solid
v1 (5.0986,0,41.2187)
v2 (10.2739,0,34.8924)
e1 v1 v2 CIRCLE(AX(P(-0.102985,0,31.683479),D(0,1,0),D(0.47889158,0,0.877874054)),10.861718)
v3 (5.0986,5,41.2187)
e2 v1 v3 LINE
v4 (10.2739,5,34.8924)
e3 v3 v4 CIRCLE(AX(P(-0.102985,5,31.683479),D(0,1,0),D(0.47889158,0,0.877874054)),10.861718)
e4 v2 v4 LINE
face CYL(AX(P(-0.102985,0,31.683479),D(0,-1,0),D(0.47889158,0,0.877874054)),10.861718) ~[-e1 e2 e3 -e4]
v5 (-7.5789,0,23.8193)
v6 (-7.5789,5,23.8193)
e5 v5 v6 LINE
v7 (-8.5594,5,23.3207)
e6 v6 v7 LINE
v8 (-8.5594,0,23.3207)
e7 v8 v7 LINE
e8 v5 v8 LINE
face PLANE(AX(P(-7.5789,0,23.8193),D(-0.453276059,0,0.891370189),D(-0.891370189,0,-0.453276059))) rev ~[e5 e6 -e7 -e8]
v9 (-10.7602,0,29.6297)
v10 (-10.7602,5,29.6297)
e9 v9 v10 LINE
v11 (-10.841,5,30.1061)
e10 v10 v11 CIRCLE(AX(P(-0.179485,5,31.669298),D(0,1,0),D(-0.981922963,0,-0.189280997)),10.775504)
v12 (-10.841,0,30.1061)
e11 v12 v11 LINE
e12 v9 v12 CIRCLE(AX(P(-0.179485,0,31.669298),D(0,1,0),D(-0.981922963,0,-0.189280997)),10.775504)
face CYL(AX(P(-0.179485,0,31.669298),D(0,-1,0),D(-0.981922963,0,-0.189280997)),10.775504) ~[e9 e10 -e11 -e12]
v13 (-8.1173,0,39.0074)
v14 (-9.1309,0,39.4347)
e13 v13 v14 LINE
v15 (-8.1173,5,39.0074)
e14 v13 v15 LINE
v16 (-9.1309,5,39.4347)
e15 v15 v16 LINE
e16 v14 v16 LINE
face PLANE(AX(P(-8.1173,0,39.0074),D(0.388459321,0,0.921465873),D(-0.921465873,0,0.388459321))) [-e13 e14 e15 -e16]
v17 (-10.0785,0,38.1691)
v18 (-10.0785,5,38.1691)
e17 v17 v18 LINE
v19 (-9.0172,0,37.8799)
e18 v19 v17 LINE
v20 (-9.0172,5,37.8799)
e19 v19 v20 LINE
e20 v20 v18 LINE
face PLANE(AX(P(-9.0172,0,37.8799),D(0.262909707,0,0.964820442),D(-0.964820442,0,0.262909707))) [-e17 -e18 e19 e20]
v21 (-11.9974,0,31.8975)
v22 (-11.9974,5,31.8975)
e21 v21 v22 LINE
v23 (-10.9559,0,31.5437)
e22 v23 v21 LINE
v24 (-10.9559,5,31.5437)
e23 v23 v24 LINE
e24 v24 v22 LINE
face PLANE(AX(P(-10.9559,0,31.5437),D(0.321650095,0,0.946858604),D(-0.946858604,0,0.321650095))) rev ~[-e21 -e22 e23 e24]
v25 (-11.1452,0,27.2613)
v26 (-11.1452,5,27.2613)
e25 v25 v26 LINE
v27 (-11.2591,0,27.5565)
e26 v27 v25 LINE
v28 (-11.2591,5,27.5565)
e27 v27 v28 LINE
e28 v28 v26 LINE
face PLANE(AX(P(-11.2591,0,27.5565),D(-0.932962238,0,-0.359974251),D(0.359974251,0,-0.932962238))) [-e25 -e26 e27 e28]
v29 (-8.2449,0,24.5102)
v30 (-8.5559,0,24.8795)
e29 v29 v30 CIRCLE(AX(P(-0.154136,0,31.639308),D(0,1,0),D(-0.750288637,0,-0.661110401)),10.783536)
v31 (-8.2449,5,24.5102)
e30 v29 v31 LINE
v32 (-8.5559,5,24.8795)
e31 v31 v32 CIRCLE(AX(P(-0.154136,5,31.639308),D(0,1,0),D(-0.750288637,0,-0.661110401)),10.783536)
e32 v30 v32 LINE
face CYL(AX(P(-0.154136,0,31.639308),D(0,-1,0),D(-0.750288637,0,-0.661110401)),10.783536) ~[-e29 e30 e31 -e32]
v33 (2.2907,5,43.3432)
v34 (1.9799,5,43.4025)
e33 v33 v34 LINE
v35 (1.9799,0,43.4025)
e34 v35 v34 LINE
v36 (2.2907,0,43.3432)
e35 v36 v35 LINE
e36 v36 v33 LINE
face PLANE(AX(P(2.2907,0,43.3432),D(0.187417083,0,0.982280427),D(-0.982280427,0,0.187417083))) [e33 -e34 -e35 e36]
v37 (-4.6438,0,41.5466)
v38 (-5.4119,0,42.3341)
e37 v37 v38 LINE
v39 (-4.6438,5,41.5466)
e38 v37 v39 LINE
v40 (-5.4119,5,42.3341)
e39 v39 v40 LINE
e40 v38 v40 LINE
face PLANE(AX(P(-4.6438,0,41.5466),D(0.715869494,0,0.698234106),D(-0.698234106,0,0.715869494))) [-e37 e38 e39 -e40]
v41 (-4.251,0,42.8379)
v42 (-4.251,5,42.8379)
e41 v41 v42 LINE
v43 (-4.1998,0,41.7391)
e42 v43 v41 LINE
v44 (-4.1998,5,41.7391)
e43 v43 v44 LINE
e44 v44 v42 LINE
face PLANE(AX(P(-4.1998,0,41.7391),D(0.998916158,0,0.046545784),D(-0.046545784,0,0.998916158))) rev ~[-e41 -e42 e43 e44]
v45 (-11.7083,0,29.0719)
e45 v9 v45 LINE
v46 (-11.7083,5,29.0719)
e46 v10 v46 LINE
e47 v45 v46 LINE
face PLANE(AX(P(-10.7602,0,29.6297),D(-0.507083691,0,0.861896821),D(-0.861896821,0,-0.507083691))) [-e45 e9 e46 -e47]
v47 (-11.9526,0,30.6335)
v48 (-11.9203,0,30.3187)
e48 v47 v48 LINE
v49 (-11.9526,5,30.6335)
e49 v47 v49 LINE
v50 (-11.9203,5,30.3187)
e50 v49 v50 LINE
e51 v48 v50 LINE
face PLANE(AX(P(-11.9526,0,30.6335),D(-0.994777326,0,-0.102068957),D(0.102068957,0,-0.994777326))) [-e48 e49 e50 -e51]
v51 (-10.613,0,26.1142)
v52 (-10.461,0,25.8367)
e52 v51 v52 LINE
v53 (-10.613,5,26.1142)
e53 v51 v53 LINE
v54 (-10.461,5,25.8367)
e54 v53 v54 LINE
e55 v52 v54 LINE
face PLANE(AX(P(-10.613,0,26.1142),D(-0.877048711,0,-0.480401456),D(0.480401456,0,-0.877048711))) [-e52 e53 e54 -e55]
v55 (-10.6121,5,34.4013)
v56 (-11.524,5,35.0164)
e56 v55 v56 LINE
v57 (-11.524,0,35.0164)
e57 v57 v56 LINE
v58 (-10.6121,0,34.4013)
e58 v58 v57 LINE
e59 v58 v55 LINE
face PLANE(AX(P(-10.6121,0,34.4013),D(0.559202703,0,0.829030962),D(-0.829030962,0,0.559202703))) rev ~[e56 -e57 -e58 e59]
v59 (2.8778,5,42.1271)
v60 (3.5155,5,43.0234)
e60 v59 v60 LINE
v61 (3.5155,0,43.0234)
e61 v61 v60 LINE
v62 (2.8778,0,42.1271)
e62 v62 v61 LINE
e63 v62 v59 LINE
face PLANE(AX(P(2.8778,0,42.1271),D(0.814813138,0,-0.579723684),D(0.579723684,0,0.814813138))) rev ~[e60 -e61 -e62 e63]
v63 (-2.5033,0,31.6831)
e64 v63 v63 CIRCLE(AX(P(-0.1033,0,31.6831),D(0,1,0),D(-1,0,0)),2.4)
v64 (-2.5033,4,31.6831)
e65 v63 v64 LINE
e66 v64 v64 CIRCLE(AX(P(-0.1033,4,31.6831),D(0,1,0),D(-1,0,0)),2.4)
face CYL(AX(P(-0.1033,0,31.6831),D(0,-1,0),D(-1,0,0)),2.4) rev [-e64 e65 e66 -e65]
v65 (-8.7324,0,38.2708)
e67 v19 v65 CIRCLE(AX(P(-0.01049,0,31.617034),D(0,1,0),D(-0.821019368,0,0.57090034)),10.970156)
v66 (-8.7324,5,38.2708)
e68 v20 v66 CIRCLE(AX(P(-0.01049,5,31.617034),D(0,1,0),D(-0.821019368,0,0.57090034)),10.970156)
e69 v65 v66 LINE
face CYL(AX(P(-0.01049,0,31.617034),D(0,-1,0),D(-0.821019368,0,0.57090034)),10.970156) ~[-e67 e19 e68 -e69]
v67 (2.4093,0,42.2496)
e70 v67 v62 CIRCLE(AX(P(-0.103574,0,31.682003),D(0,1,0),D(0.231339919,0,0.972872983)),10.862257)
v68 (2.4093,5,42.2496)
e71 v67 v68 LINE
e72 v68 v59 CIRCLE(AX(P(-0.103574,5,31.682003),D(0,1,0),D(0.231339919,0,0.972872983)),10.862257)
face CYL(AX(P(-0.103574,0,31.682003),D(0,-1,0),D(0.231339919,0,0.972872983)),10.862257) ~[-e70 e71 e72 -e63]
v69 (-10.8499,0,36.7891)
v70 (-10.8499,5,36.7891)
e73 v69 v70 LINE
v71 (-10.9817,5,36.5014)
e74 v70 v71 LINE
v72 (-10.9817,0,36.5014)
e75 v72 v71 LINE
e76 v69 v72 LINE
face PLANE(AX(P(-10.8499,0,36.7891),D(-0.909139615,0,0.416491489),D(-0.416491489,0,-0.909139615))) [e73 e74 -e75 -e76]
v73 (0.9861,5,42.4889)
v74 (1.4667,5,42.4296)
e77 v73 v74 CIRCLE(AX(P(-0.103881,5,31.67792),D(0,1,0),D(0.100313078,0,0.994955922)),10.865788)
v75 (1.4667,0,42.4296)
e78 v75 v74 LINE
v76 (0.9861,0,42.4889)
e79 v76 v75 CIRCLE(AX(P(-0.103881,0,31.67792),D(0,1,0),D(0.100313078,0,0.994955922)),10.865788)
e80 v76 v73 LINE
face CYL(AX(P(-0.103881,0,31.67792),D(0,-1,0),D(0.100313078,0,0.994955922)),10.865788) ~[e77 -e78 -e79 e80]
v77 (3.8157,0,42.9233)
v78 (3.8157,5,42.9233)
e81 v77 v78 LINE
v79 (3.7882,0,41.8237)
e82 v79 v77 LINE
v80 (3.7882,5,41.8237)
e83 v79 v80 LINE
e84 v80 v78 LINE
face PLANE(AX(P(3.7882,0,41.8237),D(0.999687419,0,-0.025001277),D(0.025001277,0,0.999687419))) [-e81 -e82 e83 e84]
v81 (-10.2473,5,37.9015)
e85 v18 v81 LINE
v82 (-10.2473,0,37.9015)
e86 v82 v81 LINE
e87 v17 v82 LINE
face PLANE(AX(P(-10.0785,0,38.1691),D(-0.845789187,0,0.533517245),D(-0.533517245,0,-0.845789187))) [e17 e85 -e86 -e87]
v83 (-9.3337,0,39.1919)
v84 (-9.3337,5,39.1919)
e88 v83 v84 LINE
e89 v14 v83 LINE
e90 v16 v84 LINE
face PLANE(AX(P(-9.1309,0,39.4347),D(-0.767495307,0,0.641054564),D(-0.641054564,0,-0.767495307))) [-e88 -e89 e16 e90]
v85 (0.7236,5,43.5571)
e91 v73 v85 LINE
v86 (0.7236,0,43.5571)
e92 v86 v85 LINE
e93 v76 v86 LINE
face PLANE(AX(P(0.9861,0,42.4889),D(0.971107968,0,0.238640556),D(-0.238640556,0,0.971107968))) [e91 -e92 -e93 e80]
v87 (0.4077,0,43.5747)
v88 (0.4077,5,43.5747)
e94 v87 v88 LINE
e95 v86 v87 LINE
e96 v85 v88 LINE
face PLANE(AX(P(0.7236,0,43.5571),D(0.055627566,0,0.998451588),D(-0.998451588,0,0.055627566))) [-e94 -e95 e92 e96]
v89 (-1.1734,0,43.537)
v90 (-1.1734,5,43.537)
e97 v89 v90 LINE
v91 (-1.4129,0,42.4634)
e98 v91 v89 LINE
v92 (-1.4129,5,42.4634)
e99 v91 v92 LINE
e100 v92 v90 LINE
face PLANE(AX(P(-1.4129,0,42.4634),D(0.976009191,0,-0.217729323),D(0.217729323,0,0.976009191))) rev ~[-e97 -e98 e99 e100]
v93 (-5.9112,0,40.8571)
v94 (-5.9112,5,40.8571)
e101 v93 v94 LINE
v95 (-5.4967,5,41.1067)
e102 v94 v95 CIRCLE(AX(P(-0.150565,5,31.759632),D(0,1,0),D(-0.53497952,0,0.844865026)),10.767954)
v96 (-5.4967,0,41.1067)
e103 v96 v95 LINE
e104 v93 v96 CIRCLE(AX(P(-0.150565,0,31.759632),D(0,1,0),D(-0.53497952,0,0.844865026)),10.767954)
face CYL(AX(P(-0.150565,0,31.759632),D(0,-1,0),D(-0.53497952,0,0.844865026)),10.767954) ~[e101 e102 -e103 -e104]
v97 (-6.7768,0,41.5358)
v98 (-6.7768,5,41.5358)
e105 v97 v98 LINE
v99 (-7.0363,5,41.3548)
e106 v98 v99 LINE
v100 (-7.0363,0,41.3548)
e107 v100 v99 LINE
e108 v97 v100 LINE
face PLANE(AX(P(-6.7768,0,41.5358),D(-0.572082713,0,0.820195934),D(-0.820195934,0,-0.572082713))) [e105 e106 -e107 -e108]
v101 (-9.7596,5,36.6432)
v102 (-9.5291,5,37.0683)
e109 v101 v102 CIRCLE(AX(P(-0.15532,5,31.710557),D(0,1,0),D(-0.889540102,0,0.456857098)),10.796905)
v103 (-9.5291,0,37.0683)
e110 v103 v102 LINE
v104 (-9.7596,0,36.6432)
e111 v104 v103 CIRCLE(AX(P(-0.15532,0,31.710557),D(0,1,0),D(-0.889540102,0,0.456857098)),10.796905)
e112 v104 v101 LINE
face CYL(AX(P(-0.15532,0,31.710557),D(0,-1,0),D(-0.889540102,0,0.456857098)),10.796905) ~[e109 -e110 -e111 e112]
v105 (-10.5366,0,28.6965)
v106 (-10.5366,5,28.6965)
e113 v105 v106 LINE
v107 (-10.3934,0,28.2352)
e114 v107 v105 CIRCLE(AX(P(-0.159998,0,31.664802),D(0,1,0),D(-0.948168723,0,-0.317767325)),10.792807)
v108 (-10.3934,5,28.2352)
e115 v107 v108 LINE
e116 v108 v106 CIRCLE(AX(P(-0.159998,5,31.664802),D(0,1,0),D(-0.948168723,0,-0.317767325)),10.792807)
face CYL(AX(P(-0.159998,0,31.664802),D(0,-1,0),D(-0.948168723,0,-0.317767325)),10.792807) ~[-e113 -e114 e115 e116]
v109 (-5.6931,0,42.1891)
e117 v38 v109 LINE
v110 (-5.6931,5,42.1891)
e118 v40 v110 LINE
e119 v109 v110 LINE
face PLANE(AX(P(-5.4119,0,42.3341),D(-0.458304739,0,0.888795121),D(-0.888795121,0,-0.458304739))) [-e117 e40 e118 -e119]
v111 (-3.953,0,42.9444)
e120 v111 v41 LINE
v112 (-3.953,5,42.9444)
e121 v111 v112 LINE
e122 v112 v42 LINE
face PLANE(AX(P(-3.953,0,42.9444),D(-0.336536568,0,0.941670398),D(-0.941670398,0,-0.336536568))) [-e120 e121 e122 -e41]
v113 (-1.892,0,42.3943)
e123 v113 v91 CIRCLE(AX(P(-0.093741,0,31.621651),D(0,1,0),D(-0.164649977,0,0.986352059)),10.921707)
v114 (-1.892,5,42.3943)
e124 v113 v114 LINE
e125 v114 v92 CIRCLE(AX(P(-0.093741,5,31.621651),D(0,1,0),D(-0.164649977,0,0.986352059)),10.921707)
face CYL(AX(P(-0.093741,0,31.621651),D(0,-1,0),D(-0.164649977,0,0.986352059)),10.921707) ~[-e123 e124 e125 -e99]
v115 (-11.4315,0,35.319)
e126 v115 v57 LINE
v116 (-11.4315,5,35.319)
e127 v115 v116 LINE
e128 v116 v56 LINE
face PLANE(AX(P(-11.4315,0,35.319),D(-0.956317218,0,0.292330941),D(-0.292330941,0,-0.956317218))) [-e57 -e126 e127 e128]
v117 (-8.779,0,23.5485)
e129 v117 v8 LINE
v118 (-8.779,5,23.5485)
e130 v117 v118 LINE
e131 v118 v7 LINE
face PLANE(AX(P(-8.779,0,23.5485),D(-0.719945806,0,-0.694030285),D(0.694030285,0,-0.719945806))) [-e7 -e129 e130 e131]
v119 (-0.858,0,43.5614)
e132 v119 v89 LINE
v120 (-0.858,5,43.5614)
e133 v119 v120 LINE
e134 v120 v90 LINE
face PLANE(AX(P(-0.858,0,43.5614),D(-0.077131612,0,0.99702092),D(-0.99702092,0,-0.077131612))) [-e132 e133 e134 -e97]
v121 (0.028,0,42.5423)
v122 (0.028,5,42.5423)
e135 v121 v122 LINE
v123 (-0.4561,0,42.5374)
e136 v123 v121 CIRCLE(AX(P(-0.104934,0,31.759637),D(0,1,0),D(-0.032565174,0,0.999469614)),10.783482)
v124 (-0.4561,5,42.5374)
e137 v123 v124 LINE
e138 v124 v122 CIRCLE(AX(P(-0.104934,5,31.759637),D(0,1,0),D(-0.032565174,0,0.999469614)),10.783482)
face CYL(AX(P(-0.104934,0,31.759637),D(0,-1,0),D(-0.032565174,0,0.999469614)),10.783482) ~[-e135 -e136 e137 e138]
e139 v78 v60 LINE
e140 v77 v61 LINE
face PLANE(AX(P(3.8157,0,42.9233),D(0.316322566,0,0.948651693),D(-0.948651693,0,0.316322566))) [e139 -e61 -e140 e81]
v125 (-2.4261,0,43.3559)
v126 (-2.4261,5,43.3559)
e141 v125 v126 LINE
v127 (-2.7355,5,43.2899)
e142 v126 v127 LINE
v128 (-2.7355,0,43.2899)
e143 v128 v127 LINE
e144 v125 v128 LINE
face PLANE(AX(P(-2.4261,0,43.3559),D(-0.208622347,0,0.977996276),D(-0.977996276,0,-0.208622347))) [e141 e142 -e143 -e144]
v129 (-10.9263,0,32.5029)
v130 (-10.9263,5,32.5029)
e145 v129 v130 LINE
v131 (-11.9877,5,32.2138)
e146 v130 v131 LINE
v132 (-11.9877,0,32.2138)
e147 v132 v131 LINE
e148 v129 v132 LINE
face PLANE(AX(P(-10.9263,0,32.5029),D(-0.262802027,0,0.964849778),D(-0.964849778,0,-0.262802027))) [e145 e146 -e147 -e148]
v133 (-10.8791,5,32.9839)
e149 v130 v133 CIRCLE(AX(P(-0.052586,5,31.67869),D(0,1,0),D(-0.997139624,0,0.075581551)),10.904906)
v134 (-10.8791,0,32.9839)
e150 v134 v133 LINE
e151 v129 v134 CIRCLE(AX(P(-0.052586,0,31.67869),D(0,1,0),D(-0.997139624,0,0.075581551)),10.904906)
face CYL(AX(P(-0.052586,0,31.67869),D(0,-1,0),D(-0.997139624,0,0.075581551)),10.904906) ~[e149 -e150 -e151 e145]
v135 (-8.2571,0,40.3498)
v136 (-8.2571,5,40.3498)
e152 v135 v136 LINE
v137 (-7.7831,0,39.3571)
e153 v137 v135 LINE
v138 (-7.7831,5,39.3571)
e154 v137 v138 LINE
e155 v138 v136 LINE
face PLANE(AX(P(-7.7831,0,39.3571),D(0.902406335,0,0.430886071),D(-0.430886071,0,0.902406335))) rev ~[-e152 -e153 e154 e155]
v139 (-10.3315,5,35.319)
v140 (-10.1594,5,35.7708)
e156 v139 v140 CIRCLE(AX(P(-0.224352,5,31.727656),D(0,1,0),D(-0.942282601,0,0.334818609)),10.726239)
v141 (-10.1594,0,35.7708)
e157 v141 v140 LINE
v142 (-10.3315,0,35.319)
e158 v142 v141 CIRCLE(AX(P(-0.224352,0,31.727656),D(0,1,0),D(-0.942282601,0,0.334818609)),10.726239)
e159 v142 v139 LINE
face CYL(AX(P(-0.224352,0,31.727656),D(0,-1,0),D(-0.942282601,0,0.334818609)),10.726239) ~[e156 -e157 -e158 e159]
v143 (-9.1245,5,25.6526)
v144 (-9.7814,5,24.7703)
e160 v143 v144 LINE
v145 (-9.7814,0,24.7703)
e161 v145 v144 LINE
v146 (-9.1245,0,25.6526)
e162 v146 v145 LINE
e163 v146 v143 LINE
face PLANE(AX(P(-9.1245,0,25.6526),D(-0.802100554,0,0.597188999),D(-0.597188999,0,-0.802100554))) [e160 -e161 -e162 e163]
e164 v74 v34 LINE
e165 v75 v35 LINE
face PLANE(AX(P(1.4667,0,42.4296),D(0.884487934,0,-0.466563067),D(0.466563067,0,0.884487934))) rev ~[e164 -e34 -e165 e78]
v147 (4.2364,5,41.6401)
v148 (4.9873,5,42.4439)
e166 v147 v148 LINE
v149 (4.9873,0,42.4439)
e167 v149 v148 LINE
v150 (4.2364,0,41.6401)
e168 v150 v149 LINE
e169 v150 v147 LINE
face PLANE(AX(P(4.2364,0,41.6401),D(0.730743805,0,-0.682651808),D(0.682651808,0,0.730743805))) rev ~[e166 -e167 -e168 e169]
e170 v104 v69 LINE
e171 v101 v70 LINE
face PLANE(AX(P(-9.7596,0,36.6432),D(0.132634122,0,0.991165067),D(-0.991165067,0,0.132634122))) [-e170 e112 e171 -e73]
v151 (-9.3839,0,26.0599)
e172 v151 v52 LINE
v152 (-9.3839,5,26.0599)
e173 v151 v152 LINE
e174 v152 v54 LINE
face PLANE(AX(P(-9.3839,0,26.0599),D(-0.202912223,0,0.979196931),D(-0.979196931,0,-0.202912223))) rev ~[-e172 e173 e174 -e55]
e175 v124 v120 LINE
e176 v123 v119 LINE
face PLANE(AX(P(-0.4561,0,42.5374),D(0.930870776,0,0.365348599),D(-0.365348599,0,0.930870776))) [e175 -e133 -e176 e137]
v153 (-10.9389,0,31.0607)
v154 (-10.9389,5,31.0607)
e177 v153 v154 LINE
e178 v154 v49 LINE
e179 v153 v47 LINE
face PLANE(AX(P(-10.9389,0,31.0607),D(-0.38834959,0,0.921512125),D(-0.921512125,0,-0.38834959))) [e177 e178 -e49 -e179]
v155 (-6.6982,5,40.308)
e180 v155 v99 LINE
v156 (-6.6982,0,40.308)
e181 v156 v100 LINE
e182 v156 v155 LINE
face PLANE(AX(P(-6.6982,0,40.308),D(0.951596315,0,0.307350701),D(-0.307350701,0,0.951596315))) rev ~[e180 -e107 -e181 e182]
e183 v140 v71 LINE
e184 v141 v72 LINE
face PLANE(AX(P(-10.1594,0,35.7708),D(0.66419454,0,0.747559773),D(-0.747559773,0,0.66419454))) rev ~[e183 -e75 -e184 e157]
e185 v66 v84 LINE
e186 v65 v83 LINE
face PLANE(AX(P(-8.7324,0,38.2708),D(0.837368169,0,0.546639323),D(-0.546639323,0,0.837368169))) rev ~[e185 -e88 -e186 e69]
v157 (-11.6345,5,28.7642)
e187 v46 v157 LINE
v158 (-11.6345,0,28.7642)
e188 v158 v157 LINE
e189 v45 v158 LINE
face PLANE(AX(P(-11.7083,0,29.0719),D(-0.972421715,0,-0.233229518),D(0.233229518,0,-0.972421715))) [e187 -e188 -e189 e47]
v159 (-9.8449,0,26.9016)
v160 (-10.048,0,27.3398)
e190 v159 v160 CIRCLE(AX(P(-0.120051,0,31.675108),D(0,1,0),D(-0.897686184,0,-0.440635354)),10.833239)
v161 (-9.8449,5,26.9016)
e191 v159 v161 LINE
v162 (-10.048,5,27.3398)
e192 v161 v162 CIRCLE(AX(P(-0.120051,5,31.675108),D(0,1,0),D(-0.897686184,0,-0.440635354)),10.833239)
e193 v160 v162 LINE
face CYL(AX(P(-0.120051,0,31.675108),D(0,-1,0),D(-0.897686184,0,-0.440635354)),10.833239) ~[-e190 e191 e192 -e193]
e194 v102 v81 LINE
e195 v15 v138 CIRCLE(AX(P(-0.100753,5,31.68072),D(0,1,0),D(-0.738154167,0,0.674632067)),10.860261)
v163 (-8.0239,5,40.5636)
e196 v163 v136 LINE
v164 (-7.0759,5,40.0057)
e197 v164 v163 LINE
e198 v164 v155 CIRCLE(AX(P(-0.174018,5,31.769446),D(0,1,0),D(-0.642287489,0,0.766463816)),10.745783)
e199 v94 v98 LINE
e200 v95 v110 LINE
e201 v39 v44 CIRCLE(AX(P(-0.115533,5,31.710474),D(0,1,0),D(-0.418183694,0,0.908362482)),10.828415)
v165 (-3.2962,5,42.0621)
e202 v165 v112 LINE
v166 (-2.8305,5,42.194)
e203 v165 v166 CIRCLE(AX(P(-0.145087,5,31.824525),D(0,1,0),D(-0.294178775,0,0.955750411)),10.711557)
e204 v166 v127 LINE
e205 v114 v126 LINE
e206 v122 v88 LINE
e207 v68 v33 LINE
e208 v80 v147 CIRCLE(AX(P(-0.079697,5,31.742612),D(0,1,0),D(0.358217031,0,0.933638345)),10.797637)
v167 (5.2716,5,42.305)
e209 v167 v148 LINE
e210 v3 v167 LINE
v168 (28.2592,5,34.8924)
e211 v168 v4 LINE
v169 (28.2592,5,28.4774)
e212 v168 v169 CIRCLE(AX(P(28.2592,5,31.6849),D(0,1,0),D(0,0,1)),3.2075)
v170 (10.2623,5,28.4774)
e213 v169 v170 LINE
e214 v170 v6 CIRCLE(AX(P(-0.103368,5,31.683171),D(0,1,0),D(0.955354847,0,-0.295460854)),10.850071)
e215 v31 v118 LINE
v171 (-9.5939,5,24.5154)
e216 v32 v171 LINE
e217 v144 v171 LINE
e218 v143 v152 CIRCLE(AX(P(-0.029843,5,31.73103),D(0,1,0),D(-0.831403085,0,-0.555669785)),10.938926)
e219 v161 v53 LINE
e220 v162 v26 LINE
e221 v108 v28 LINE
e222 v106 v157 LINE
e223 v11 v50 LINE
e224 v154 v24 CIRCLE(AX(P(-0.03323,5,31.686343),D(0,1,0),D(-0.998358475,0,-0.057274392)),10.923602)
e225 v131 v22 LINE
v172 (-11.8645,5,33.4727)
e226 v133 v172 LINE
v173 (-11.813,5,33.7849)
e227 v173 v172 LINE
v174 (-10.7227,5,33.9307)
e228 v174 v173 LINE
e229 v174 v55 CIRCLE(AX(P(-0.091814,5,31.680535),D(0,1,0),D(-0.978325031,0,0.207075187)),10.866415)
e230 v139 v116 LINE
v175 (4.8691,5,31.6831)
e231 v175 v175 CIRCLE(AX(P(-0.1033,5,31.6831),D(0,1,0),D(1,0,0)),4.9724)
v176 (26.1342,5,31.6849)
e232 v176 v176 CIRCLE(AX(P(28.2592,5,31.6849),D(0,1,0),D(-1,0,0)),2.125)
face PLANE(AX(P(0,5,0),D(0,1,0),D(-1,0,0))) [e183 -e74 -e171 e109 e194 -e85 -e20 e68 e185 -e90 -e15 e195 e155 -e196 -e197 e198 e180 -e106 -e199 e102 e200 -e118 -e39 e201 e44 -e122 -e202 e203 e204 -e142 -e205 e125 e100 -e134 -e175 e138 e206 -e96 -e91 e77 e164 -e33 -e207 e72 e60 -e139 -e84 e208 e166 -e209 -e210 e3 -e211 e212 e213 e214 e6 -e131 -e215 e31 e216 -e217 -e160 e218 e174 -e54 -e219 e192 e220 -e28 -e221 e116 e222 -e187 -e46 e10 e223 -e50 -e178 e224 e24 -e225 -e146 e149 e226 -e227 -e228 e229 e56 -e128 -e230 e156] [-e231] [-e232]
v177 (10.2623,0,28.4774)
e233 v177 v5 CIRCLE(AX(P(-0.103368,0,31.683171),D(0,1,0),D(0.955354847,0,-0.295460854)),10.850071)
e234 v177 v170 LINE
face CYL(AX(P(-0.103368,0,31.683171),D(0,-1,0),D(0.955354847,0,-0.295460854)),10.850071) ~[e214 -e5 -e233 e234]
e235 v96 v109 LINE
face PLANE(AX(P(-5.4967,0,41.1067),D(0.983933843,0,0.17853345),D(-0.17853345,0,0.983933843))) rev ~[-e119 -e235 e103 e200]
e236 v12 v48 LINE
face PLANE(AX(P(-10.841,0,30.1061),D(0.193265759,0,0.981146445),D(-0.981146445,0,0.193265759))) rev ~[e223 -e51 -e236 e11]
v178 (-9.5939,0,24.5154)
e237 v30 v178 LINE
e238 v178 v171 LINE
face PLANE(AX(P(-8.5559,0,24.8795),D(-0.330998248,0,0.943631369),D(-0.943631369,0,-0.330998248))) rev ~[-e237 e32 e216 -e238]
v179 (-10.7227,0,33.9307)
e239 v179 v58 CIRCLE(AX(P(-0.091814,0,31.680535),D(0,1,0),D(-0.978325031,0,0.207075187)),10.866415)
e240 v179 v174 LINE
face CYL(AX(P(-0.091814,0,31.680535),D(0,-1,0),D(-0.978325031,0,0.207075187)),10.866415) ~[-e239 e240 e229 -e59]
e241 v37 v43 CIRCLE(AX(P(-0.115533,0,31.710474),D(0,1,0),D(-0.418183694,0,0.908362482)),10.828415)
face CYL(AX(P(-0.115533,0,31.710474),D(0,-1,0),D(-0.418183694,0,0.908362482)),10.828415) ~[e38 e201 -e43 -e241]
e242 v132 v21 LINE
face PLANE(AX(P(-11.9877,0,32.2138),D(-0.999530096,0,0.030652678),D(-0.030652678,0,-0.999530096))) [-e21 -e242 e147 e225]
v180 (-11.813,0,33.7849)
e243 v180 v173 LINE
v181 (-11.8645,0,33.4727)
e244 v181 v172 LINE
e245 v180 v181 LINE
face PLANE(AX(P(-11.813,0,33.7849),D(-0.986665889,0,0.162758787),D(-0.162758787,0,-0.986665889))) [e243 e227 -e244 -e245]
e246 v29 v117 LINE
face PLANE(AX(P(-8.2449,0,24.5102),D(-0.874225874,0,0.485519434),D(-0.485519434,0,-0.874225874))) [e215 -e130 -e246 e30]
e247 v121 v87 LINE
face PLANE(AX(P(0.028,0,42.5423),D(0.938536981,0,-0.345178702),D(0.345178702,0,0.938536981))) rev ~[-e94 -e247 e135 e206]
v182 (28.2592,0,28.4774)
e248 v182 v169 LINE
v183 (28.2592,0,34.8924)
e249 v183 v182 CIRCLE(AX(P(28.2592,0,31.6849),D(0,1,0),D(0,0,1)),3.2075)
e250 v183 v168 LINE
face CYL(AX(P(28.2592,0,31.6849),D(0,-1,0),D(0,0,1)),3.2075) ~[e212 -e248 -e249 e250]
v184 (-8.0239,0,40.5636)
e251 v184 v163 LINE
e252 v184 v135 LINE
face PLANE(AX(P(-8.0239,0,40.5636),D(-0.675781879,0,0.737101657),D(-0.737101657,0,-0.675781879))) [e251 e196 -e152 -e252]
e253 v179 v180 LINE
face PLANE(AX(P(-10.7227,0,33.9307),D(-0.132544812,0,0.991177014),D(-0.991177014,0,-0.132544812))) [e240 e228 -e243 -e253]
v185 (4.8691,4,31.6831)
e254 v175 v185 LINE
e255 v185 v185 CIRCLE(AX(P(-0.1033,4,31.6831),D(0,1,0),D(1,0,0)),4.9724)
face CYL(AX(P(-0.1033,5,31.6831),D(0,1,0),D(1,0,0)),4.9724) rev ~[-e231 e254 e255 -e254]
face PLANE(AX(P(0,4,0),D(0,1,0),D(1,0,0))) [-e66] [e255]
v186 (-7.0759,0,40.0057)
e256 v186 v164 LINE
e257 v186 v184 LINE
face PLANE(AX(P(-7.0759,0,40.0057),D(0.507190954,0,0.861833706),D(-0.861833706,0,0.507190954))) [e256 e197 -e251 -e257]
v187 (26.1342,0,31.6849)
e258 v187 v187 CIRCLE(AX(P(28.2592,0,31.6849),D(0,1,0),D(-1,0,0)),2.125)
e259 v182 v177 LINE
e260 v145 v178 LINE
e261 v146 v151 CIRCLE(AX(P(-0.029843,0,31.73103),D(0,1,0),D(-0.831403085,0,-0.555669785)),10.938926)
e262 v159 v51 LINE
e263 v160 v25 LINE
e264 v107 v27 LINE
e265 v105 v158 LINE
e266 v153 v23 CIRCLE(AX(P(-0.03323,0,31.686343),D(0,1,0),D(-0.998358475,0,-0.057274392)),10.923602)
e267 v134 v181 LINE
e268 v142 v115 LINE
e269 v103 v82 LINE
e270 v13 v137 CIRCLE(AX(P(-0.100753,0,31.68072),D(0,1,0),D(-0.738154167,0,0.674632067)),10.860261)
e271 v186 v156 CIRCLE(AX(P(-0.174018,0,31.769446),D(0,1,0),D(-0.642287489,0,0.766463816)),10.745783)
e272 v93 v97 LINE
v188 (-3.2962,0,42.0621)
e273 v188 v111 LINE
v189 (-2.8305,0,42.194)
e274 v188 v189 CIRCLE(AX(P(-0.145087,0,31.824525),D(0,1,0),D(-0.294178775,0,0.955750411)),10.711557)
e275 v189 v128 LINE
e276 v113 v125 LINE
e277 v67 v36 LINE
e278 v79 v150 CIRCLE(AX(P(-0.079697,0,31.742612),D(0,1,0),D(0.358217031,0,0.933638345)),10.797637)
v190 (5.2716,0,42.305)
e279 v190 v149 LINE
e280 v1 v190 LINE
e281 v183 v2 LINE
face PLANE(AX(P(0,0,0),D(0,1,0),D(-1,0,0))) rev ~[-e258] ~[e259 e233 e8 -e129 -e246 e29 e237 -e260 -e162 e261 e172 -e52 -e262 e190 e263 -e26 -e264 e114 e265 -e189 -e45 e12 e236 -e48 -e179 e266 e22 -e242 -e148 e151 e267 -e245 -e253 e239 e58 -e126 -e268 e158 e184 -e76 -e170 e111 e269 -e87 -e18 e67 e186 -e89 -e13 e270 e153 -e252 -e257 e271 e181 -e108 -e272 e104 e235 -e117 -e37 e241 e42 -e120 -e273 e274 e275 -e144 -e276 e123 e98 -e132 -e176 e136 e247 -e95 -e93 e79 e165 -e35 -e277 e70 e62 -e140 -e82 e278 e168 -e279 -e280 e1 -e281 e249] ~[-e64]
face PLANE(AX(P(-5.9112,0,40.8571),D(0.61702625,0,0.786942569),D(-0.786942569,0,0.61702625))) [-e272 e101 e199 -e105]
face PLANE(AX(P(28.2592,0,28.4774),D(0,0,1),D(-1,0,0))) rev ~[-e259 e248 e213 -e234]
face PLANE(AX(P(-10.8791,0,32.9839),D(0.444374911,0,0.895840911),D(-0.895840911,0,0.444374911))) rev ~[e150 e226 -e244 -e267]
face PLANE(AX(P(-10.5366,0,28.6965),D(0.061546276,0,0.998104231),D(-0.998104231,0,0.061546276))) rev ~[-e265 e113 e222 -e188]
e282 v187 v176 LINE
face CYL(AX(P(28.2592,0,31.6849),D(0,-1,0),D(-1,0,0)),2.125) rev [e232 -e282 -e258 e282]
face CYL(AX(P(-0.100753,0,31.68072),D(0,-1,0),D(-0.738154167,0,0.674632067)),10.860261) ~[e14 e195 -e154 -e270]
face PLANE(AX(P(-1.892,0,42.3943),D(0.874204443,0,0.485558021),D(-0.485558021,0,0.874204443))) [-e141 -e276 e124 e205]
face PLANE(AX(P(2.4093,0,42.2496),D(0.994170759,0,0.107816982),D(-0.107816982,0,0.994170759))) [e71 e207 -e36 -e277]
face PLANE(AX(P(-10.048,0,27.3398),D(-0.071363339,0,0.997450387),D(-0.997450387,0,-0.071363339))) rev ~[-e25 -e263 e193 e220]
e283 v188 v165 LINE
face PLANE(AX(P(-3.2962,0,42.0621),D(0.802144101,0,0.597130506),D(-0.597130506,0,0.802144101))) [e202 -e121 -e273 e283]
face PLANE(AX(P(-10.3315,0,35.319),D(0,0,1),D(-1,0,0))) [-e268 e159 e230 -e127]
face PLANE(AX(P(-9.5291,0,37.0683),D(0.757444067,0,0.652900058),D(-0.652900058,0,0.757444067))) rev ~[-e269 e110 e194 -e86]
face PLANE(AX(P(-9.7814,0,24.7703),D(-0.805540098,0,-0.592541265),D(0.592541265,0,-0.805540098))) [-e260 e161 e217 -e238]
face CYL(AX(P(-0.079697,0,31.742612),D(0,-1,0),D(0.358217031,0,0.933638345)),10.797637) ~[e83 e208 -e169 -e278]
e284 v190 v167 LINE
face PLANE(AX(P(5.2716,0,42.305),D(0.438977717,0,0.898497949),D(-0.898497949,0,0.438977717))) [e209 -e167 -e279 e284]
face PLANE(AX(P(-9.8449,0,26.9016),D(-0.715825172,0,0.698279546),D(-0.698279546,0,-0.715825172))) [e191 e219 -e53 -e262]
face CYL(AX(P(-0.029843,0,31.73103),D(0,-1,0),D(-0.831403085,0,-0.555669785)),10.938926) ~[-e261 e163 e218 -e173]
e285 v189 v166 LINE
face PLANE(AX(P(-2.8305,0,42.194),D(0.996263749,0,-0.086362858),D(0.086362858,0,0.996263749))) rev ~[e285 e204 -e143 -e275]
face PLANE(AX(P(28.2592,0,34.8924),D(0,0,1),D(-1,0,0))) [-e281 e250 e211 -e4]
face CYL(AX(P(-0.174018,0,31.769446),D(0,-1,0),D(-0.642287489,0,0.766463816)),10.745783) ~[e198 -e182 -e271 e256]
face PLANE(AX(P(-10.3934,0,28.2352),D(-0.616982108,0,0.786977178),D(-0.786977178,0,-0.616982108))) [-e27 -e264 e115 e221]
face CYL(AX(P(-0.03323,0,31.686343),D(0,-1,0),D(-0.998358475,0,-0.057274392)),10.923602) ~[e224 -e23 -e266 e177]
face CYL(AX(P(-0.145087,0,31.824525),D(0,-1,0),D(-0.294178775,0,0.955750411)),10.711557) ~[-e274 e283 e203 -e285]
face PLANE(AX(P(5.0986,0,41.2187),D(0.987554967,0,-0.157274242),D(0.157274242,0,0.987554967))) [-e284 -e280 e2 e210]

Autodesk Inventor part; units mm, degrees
ref_plane "YZ Plane" through (0, 0, 0) normal (1, 0, 0) x (0, 1, 0)
ref_plane "XZ Plane" through (0, 0, 0) normal (0, 1, 0) x (-1, 0, 0)
ref_plane "XY Plane" through (0, 0, 0) normal (0, 0, 1) x (1, 0, 0)
sketch "Sketch1" plane through (0, 0, 0) normal (0, 1, 0) x (-1, 0, 0)
  circle A0 centre (0, 0) radius 11
  line L0 (0, 0) -> (21.5969, 0.9429) construction
  line L1 (0, 0) -> (22.384, -0.9773) construction
  line L2 (0, 0) -> (25.2479, 0) construction
  line L3 (10.9895, 0.4798) -> (12.0415, 0.1582)
  line L4 (10.9895, 0.4798) -> (12.0895, 0.4798) construction
  line L5 (10.9895, -0.4798) -> (12.0415, -0.1582)
  line L6 (12.0415, -0.1582) -> (12.0415, 0.1582)
  line L7 (10.9561, 0.9815) -> (11.9561, 1.4397)
  line L8 (11.9561, 1.4397) -> (11.9142, 1.7533)
  line L9 (10.8289, 1.9326) -> (11.9142, 1.7533)
  line L10 (10.7293, 2.4254) -> (11.6597, 3.0122)
  line L11 (11.6597, 3.0122) -> (11.5765, 3.3175)
  line L12 (10.4771, 3.3513) -> (11.5765, 3.3175)
  line L13 (10.313, 3.8266) -> (11.1574, 4.5315)
  line L14 (11.1574, 4.5315) -> (11.0345, 4.8231)
  line L15 (9.9402, 4.7109) -> (11.0345, 4.8231)
  line L16 (9.7146, 5.1602) -> (10.4581, 5.9708)
  line L17 (10.4581, 5.9708) -> (10.2976, 6.2435)
  line L18 (9.2279, 5.9872) -> (10.2976, 6.2435)
  line L19 (8.9446, 6.4026) -> (9.5741, 7.3047)
  line L20 (9.5741, 7.3047) -> (9.3789, 7.5537)
  line L21 (8.3526, 7.1578) -> (9.3789, 7.5537)
  line L22 (8.0168, 7.532) -> (8.521, 8.5096)
  line L23 (8.521, 8.5096) -> (8.2945, 8.7306)
  line L24 (7.3298, 8.2021) -> (8.2945, 8.7306)
  line L25 (6.9474, 8.5284) -> (7.3176, 9.5643)
  line L26 (7.3176, 9.5643) -> (7.0638, 9.7532)
  line L27 (6.1776, 9.1015) -> (7.0638, 9.7532)
  line L28 (5.7553, 9.3743) -> (5.9849, 10.45)
  line L29 (5.9849, 10.45) -> (5.7083, 10.6037)
  line L30 (4.9164, 9.8402) -> (5.7083, 10.6037)
  line L31 (4.4616, 10.0546) -> (4.5465, 11.1513)
  line L32 (4.5465, 11.1513) -> (4.252, 11.2669)
  line L33 (3.5683, 10.4052) -> (4.252, 11.2669)
  line L34 (3.0891, 10.5573) -> (3.0279, 11.6556)
  line L35 (3.0279, 11.6556) -> (2.7206, 11.7312)
  line L36 (2.1572, 10.7864) -> (2.7206, 11.7312)
  line L37 (1.6621, 10.8737) -> (1.4558, 11.9542)
  line L38 (1.4558, 11.9542) -> (1.1412, 11.9883)
  line L39 (0.708, 10.9772) -> (1.1412, 11.9883)
  line L40 (0.2057, 10.9981) -> (-0.142, 12.0417)
  line L41 (-0.142, 12.0417) -> (-0.4584, 12.0338)
  line L42 (-0.7536, 10.9742) -> (-0.4584, 12.0338)
  line L43 (-1.2543, 10.9283) -> (-1.7373, 11.9165)
  line L44 (-1.7373, 11.9165) -> (-2.0498, 11.8668)
  line L45 (-2.202, 10.7773) -> (-2.0498, 11.8668)
  line L46 (-2.6922, 10.6655) -> (-3.302, 11.581)
  line L47 (-3.302, 11.581) -> (-3.6051, 11.4902)
  line L48 (-3.6115, 10.3902) -> (-3.6051, 11.4902)
  line L49 (-4.0825, 10.2144) -> (-4.8083, 11.0409)
  line L50 (-4.8083, 11.0409) -> (-5.0967, 10.9108)
  line L51 (-4.9572, 9.8197) -> (-5.0967, 10.9108)
  line L52 (-5.4007, 9.5829) -> (-6.2297, 10.3059)
  line L53 (-6.2297, 10.3059) -> (-6.4983, 10.1387)
  line L54 (-6.2154, 9.0757) -> (-6.4983, 10.1387)
  line L55 (-6.6236, 8.7822) -> (-7.5411, 9.389)
  line L56 (-7.5411, 9.389) -> (-7.7852, 9.1876)
  line L57 (-7.3638, 8.1715) -> (-7.7852, 9.1876)
  line L58 (-7.7295, 7.8265) -> (-8.7194, 8.3062)
  line L59 (-8.7194, 8.3062) -> (-8.9346, 8.0743)
  line L60 (-8.3823, 7.1231) -> (-8.9346, 8.0743)
  line L61 (-8.699, 6.7326) -> (-9.7437, 7.0768)
  line L62 (-9.7437, 7.0768) -> (-9.9263, 6.8184)
  line L63 (-9.2527, 5.9488) -> (-9.9263, 6.8184)
  line L64 (-9.5148, 5.5198) -> (-10.596, 5.7225)
  line L65 (-10.596, 5.7225) -> (-10.7427, 5.4421)
  line L66 (-9.9597, 4.6695) -> (-10.7427, 5.4421)
  line L67 (-10.1627, 4.2095) -> (-11.2612, 4.2671)
  line L68 (-11.2612, 4.2671) -> (-11.3694, 3.9698)
  line L69 (-10.4909, 3.3078) -> (-11.3694, 3.9698)
  line L70 (-4.2364, 41.6401) -> (-4.9873, 42.4439)
  line L71 (-4.2364, 41.6401) -> (-4.7195, 42.6284) construction
  line L72 (-5.0986, 41.2187) -> (-5.2716, 42.305)
  line L73 (-5.2716, 42.305) -> (-4.9873, 42.4439)
  line L74 (-3.7882, 41.8237) -> (-3.8157, 42.9233)
  line L75 (-3.8157, 42.9233) -> (-3.5155, 43.0234)
  line L76 (-2.8778, 42.1271) -> (-3.5155, 43.0234)
  line L77 (-2.4093, 42.2496) -> (-2.2907, 43.3432)
  line L78 (-2.2907, 43.3432) -> (-1.9799, 43.4025)
  line L79 (-1.4667, 42.4296) -> (-1.9799, 43.4025)
  line L80 (-0.9861, 42.4889) -> (-0.7236, 43.5571)
  line L81 (-0.7236, 43.5571) -> (-0.4077, 43.5747)
  line L82 (-0.028, 42.5423) -> (-0.4077, 43.5747)
  line L83 (0.4561, 42.5374) -> (0.858, 43.5614)
  line L84 (0.858, 43.5614) -> (1.1734, 43.537)
  line L85 (1.4129, 42.4634) -> (1.1734, 43.537)
  line L86 (1.892, 42.3943) -> (2.4261, 43.3559)
  line L87 (2.4261, 43.3559) -> (2.7355, 43.2899)
  line L88 (2.8305, 42.194) -> (2.7355, 43.2899)
  line L89 (3.2962, 42.0621) -> (3.953, 42.9444)
  line L90 (3.953, 42.9444) -> (4.251, 42.8379)
  line L91 (4.1998, 41.7391) -> (4.251, 42.8379)
  line L92 (4.6438, 41.5466) -> (5.4119, 42.3341)
  line L93 (5.4119, 42.3341) -> (5.6931, 42.1891)
  line L94 (5.4967, 41.1067) -> (5.6931, 42.1891)
  line L95 (5.9112, 40.8571) -> (6.7768, 41.5358)
  line L96 (6.7768, 41.5358) -> (7.0363, 41.3548)
  line L97 (6.6982, 40.308) -> (7.0363, 41.3548)
  line L98 (7.0759, 40.0057) -> (8.0239, 40.5636)
  line L99 (8.0239, 40.5636) -> (8.2571, 40.3498)
  line L100 (7.7831, 39.3571) -> (8.2571, 40.3498)
  line L101 (8.1173, 39.0074) -> (9.1309, 39.4347)
  line L102 (9.1309, 39.4347) -> (9.3337, 39.1919)
  line L103 (8.7324, 38.2708) -> (9.3337, 39.1919)
  line L104 (9.0172, 37.8799) -> (10.0785, 38.1691)
  line L105 (10.0785, 38.1691) -> (10.2473, 37.9015)
  line L106 (9.5291, 37.0683) -> (10.2473, 37.9015)
  line L107 (9.7596, 36.6432) -> (10.8499, 36.7891)
  line L108 (10.8499, 36.7891) -> (10.9817, 36.5014)
  line L109 (10.1594, 35.7708) -> (10.9817, 36.5014)
  line L110 (10.3315, 35.319) -> (11.4315, 35.319)
  line L111 (11.4315, 35.319) -> (11.524, 35.0164)
  line L112 (10.6121, 34.4013) -> (11.524, 35.0164)
  line L113 (10.7227, 33.9307) -> (11.813, 33.7849)
  line L114 (11.813, 33.7849) -> (11.8645, 33.4727)
  line L115 (10.8791, 32.9839) -> (11.8645, 33.4727)
  line L116 (10.9263, 32.5029) -> (11.9877, 32.2138)
  line L117 (11.9877, 32.2138) -> (11.9974, 31.8975)
  line L118 (10.9559, 31.5437) -> (11.9974, 31.8975)
  line L119 (10.9389, 31.0607) -> (11.9526, 30.6335)
  line L120 (11.9526, 30.6335) -> (11.9203, 30.3187)
  line L121 (10.841, 30.1061) -> (11.9203, 30.3187)
  line L122 (10.7602, 29.6297) -> (11.7083, 29.0719)
  line L123 (11.7083, 29.0719) -> (11.6345, 28.7642)
  line L124 (10.5366, 28.6965) -> (11.6345, 28.7642)
  line L125 (10.3934, 28.2352) -> (11.2591, 27.5565)
  line L126 (11.2591, 27.5565) -> (11.1452, 27.2613)
  line L127 (10.048, 27.3398) -> (11.1452, 27.2613)
  line L128 (9.8449, 26.9016) -> (10.613, 26.1142)
  line L129 (10.613, 26.1142) -> (10.461, 25.8367)
  line L130 (9.3839, 26.0599) -> (10.461, 25.8367)
  line L131 (9.1245, 25.6526) -> (9.7814, 24.7703)
  line L132 (9.7814, 24.7703) -> (9.5939, 24.5154)
  line L133 (8.5559, 24.8795) -> (9.5939, 24.5154)
  line L134 (8.2449, 24.5102) -> (8.779, 23.5485)
  line L135 (8.779, 23.5485) -> (8.5594, 23.3207)
  line L136 (7.5789, 23.8193) -> (8.5594, 23.3207)
  circle A1 centre (-28.2592, 31.6849) radius 2.125
  arc A2 (-28.2592, 34.8924) -> (-28.2592, 28.4774) centre (-28.2592, 31.6849) ccw
  line L137 (-28.2592, 34.8924) -> (-10.2739, 34.8924)
  line L138 (-28.2592, 28.4774) -> (-10.2623, 28.4774)
  line L139 (18.6565, 53.6502) -> (-47.4327, 53.6502)
  line L140 (18.6565, 53.6502) -> (84.7457, 53.6502) construction
  circle A3 centre (0.1033, 31.6831) radius 2.4
  arc A4 (-5.0986, 41.2187) -> (-10.2739, 34.8924) centre (0.1033, 31.6831) ccw
  arc A5 (-3.7882, 41.8237) -> (-4.2364, 41.6401) centre (0.1033, 31.6831) ccw
  arc A6 (-2.4093, 42.2496) -> (-2.8778, 42.1271) centre (0.1033, 31.6831) ccw
  arc A7 (-0.9861, 42.4889) -> (-1.4667, 42.4296) centre (0.1033, 31.6831) ccw
  arc A8 (0.4561, 42.5374) -> (-0.028, 42.5423) centre (0.1033, 31.6831) ccw
  arc A9 (1.892, 42.3943) -> (1.4129, 42.4634) centre (0.1033, 31.6831) ccw
  arc A10 (3.2962, 42.0621) -> (2.8305, 42.194) centre (0.1033, 31.6831) ccw
  arc A11 (4.6438, 41.5466) -> (4.1998, 41.7391) centre (0.1033, 31.6831) ccw
  arc A12 (5.9112, 40.8571) -> (5.4967, 41.1067) centre (0.1033, 31.6831) ccw
  arc A13 (7.0759, 40.0057) -> (6.6982, 40.308) centre (0.1033, 31.6831) ccw
  arc A14 (8.1173, 39.0074) -> (7.7831, 39.3571) centre (0.1033, 31.6831) ccw
  arc A15 (9.0172, 37.8799) -> (8.7324, 38.2708) centre (0.1033, 31.6831) ccw
  arc A16 (9.7596, 36.6432) -> (9.5291, 37.0683) centre (0.1033, 31.6831) ccw
  arc A17 (10.3315, 35.319) -> (10.1594, 35.7708) centre (0.1033, 31.6831) ccw
  arc A18 (10.7227, 33.9307) -> (10.6121, 34.4013) centre (0.1033, 31.6831) ccw
  arc A19 (10.9263, 32.5029) -> (10.8791, 32.9839) centre (0.1033, 31.6831) ccw
  arc A20 (10.9389, 31.0607) -> (10.9559, 31.5437) centre (0.1033, 31.6831) ccw
  arc A21 (10.7602, 29.6297) -> (10.841, 30.1061) centre (0.1033, 31.6831) ccw
  arc A22 (10.3934, 28.2352) -> (10.5366, 28.6965) centre (0.1033, 31.6831) ccw
  arc A23 (9.8449, 26.9016) -> (10.048, 27.3398) centre (0.1033, 31.6831) ccw
  arc A24 (9.1245, 25.6526) -> (9.3839, 26.0599) centre (0.1033, 31.6831) ccw
  arc A25 (-10.2623, 28.4774) -> (7.5789, 23.8193) centre (0.1033, 31.6831) ccw
  arc A26 (8.2449, 24.5102) -> (8.5559, 24.8795) centre (0.1033, 31.6831) ccw
  dimension "d0" = 22
  dimension "d1" = 2.5
  dimension "d2" = 2.5
  dimension "d3" = 1.1
  dimension "d4" = 17
  dimension "d5" = 0.3164
  dimension "d8" = 160
  dimension "d12" = 4.25
  dimension "d16" = 4.8
  dimension "d21" = 10.85
extrude "Extrusion1" add sketch "Sketch1" along normal blind 5 contours A5 L74 L75 L76 A6 L77 L78 L79 A7 L80 L81 L82 A8 L83 L84 L85 A9 L86 L87 L88 A10 L89 L90 L91 A11 L92 L93 L94 A12 L95 L96 L97 A13 L98 L99 L100 A14 L101 L102 L103 A15 L104 L105 L106 A16 L107 L108 L109 A17 L110 L111 L112 A18 L113 L114 L115 A19 L116 L117 L118 A20 L119 L120 L121 A21 L122 L123 L124 A22 L125 L126 L127 A23 L128 L129 L130 A24 L131 L132 L133 A26 L134 L135 L136 A25 L138 A2 L137 A4 L72 L73 L70
sketch "Sketch2" plane through (0, 5, 0) normal (0, 1, 0) x (1, 0, 0)
  circle A0 centre (-0.1033, -31.6831) radius 2.4 projected
  circle A1 centre (-0.1033, -31.6831) radius 4.9724
  point P0 (0, 0)
extrude "Extrusion2" cut sketch "Sketch2" against normal blind 1
properties part number "innerGear"
